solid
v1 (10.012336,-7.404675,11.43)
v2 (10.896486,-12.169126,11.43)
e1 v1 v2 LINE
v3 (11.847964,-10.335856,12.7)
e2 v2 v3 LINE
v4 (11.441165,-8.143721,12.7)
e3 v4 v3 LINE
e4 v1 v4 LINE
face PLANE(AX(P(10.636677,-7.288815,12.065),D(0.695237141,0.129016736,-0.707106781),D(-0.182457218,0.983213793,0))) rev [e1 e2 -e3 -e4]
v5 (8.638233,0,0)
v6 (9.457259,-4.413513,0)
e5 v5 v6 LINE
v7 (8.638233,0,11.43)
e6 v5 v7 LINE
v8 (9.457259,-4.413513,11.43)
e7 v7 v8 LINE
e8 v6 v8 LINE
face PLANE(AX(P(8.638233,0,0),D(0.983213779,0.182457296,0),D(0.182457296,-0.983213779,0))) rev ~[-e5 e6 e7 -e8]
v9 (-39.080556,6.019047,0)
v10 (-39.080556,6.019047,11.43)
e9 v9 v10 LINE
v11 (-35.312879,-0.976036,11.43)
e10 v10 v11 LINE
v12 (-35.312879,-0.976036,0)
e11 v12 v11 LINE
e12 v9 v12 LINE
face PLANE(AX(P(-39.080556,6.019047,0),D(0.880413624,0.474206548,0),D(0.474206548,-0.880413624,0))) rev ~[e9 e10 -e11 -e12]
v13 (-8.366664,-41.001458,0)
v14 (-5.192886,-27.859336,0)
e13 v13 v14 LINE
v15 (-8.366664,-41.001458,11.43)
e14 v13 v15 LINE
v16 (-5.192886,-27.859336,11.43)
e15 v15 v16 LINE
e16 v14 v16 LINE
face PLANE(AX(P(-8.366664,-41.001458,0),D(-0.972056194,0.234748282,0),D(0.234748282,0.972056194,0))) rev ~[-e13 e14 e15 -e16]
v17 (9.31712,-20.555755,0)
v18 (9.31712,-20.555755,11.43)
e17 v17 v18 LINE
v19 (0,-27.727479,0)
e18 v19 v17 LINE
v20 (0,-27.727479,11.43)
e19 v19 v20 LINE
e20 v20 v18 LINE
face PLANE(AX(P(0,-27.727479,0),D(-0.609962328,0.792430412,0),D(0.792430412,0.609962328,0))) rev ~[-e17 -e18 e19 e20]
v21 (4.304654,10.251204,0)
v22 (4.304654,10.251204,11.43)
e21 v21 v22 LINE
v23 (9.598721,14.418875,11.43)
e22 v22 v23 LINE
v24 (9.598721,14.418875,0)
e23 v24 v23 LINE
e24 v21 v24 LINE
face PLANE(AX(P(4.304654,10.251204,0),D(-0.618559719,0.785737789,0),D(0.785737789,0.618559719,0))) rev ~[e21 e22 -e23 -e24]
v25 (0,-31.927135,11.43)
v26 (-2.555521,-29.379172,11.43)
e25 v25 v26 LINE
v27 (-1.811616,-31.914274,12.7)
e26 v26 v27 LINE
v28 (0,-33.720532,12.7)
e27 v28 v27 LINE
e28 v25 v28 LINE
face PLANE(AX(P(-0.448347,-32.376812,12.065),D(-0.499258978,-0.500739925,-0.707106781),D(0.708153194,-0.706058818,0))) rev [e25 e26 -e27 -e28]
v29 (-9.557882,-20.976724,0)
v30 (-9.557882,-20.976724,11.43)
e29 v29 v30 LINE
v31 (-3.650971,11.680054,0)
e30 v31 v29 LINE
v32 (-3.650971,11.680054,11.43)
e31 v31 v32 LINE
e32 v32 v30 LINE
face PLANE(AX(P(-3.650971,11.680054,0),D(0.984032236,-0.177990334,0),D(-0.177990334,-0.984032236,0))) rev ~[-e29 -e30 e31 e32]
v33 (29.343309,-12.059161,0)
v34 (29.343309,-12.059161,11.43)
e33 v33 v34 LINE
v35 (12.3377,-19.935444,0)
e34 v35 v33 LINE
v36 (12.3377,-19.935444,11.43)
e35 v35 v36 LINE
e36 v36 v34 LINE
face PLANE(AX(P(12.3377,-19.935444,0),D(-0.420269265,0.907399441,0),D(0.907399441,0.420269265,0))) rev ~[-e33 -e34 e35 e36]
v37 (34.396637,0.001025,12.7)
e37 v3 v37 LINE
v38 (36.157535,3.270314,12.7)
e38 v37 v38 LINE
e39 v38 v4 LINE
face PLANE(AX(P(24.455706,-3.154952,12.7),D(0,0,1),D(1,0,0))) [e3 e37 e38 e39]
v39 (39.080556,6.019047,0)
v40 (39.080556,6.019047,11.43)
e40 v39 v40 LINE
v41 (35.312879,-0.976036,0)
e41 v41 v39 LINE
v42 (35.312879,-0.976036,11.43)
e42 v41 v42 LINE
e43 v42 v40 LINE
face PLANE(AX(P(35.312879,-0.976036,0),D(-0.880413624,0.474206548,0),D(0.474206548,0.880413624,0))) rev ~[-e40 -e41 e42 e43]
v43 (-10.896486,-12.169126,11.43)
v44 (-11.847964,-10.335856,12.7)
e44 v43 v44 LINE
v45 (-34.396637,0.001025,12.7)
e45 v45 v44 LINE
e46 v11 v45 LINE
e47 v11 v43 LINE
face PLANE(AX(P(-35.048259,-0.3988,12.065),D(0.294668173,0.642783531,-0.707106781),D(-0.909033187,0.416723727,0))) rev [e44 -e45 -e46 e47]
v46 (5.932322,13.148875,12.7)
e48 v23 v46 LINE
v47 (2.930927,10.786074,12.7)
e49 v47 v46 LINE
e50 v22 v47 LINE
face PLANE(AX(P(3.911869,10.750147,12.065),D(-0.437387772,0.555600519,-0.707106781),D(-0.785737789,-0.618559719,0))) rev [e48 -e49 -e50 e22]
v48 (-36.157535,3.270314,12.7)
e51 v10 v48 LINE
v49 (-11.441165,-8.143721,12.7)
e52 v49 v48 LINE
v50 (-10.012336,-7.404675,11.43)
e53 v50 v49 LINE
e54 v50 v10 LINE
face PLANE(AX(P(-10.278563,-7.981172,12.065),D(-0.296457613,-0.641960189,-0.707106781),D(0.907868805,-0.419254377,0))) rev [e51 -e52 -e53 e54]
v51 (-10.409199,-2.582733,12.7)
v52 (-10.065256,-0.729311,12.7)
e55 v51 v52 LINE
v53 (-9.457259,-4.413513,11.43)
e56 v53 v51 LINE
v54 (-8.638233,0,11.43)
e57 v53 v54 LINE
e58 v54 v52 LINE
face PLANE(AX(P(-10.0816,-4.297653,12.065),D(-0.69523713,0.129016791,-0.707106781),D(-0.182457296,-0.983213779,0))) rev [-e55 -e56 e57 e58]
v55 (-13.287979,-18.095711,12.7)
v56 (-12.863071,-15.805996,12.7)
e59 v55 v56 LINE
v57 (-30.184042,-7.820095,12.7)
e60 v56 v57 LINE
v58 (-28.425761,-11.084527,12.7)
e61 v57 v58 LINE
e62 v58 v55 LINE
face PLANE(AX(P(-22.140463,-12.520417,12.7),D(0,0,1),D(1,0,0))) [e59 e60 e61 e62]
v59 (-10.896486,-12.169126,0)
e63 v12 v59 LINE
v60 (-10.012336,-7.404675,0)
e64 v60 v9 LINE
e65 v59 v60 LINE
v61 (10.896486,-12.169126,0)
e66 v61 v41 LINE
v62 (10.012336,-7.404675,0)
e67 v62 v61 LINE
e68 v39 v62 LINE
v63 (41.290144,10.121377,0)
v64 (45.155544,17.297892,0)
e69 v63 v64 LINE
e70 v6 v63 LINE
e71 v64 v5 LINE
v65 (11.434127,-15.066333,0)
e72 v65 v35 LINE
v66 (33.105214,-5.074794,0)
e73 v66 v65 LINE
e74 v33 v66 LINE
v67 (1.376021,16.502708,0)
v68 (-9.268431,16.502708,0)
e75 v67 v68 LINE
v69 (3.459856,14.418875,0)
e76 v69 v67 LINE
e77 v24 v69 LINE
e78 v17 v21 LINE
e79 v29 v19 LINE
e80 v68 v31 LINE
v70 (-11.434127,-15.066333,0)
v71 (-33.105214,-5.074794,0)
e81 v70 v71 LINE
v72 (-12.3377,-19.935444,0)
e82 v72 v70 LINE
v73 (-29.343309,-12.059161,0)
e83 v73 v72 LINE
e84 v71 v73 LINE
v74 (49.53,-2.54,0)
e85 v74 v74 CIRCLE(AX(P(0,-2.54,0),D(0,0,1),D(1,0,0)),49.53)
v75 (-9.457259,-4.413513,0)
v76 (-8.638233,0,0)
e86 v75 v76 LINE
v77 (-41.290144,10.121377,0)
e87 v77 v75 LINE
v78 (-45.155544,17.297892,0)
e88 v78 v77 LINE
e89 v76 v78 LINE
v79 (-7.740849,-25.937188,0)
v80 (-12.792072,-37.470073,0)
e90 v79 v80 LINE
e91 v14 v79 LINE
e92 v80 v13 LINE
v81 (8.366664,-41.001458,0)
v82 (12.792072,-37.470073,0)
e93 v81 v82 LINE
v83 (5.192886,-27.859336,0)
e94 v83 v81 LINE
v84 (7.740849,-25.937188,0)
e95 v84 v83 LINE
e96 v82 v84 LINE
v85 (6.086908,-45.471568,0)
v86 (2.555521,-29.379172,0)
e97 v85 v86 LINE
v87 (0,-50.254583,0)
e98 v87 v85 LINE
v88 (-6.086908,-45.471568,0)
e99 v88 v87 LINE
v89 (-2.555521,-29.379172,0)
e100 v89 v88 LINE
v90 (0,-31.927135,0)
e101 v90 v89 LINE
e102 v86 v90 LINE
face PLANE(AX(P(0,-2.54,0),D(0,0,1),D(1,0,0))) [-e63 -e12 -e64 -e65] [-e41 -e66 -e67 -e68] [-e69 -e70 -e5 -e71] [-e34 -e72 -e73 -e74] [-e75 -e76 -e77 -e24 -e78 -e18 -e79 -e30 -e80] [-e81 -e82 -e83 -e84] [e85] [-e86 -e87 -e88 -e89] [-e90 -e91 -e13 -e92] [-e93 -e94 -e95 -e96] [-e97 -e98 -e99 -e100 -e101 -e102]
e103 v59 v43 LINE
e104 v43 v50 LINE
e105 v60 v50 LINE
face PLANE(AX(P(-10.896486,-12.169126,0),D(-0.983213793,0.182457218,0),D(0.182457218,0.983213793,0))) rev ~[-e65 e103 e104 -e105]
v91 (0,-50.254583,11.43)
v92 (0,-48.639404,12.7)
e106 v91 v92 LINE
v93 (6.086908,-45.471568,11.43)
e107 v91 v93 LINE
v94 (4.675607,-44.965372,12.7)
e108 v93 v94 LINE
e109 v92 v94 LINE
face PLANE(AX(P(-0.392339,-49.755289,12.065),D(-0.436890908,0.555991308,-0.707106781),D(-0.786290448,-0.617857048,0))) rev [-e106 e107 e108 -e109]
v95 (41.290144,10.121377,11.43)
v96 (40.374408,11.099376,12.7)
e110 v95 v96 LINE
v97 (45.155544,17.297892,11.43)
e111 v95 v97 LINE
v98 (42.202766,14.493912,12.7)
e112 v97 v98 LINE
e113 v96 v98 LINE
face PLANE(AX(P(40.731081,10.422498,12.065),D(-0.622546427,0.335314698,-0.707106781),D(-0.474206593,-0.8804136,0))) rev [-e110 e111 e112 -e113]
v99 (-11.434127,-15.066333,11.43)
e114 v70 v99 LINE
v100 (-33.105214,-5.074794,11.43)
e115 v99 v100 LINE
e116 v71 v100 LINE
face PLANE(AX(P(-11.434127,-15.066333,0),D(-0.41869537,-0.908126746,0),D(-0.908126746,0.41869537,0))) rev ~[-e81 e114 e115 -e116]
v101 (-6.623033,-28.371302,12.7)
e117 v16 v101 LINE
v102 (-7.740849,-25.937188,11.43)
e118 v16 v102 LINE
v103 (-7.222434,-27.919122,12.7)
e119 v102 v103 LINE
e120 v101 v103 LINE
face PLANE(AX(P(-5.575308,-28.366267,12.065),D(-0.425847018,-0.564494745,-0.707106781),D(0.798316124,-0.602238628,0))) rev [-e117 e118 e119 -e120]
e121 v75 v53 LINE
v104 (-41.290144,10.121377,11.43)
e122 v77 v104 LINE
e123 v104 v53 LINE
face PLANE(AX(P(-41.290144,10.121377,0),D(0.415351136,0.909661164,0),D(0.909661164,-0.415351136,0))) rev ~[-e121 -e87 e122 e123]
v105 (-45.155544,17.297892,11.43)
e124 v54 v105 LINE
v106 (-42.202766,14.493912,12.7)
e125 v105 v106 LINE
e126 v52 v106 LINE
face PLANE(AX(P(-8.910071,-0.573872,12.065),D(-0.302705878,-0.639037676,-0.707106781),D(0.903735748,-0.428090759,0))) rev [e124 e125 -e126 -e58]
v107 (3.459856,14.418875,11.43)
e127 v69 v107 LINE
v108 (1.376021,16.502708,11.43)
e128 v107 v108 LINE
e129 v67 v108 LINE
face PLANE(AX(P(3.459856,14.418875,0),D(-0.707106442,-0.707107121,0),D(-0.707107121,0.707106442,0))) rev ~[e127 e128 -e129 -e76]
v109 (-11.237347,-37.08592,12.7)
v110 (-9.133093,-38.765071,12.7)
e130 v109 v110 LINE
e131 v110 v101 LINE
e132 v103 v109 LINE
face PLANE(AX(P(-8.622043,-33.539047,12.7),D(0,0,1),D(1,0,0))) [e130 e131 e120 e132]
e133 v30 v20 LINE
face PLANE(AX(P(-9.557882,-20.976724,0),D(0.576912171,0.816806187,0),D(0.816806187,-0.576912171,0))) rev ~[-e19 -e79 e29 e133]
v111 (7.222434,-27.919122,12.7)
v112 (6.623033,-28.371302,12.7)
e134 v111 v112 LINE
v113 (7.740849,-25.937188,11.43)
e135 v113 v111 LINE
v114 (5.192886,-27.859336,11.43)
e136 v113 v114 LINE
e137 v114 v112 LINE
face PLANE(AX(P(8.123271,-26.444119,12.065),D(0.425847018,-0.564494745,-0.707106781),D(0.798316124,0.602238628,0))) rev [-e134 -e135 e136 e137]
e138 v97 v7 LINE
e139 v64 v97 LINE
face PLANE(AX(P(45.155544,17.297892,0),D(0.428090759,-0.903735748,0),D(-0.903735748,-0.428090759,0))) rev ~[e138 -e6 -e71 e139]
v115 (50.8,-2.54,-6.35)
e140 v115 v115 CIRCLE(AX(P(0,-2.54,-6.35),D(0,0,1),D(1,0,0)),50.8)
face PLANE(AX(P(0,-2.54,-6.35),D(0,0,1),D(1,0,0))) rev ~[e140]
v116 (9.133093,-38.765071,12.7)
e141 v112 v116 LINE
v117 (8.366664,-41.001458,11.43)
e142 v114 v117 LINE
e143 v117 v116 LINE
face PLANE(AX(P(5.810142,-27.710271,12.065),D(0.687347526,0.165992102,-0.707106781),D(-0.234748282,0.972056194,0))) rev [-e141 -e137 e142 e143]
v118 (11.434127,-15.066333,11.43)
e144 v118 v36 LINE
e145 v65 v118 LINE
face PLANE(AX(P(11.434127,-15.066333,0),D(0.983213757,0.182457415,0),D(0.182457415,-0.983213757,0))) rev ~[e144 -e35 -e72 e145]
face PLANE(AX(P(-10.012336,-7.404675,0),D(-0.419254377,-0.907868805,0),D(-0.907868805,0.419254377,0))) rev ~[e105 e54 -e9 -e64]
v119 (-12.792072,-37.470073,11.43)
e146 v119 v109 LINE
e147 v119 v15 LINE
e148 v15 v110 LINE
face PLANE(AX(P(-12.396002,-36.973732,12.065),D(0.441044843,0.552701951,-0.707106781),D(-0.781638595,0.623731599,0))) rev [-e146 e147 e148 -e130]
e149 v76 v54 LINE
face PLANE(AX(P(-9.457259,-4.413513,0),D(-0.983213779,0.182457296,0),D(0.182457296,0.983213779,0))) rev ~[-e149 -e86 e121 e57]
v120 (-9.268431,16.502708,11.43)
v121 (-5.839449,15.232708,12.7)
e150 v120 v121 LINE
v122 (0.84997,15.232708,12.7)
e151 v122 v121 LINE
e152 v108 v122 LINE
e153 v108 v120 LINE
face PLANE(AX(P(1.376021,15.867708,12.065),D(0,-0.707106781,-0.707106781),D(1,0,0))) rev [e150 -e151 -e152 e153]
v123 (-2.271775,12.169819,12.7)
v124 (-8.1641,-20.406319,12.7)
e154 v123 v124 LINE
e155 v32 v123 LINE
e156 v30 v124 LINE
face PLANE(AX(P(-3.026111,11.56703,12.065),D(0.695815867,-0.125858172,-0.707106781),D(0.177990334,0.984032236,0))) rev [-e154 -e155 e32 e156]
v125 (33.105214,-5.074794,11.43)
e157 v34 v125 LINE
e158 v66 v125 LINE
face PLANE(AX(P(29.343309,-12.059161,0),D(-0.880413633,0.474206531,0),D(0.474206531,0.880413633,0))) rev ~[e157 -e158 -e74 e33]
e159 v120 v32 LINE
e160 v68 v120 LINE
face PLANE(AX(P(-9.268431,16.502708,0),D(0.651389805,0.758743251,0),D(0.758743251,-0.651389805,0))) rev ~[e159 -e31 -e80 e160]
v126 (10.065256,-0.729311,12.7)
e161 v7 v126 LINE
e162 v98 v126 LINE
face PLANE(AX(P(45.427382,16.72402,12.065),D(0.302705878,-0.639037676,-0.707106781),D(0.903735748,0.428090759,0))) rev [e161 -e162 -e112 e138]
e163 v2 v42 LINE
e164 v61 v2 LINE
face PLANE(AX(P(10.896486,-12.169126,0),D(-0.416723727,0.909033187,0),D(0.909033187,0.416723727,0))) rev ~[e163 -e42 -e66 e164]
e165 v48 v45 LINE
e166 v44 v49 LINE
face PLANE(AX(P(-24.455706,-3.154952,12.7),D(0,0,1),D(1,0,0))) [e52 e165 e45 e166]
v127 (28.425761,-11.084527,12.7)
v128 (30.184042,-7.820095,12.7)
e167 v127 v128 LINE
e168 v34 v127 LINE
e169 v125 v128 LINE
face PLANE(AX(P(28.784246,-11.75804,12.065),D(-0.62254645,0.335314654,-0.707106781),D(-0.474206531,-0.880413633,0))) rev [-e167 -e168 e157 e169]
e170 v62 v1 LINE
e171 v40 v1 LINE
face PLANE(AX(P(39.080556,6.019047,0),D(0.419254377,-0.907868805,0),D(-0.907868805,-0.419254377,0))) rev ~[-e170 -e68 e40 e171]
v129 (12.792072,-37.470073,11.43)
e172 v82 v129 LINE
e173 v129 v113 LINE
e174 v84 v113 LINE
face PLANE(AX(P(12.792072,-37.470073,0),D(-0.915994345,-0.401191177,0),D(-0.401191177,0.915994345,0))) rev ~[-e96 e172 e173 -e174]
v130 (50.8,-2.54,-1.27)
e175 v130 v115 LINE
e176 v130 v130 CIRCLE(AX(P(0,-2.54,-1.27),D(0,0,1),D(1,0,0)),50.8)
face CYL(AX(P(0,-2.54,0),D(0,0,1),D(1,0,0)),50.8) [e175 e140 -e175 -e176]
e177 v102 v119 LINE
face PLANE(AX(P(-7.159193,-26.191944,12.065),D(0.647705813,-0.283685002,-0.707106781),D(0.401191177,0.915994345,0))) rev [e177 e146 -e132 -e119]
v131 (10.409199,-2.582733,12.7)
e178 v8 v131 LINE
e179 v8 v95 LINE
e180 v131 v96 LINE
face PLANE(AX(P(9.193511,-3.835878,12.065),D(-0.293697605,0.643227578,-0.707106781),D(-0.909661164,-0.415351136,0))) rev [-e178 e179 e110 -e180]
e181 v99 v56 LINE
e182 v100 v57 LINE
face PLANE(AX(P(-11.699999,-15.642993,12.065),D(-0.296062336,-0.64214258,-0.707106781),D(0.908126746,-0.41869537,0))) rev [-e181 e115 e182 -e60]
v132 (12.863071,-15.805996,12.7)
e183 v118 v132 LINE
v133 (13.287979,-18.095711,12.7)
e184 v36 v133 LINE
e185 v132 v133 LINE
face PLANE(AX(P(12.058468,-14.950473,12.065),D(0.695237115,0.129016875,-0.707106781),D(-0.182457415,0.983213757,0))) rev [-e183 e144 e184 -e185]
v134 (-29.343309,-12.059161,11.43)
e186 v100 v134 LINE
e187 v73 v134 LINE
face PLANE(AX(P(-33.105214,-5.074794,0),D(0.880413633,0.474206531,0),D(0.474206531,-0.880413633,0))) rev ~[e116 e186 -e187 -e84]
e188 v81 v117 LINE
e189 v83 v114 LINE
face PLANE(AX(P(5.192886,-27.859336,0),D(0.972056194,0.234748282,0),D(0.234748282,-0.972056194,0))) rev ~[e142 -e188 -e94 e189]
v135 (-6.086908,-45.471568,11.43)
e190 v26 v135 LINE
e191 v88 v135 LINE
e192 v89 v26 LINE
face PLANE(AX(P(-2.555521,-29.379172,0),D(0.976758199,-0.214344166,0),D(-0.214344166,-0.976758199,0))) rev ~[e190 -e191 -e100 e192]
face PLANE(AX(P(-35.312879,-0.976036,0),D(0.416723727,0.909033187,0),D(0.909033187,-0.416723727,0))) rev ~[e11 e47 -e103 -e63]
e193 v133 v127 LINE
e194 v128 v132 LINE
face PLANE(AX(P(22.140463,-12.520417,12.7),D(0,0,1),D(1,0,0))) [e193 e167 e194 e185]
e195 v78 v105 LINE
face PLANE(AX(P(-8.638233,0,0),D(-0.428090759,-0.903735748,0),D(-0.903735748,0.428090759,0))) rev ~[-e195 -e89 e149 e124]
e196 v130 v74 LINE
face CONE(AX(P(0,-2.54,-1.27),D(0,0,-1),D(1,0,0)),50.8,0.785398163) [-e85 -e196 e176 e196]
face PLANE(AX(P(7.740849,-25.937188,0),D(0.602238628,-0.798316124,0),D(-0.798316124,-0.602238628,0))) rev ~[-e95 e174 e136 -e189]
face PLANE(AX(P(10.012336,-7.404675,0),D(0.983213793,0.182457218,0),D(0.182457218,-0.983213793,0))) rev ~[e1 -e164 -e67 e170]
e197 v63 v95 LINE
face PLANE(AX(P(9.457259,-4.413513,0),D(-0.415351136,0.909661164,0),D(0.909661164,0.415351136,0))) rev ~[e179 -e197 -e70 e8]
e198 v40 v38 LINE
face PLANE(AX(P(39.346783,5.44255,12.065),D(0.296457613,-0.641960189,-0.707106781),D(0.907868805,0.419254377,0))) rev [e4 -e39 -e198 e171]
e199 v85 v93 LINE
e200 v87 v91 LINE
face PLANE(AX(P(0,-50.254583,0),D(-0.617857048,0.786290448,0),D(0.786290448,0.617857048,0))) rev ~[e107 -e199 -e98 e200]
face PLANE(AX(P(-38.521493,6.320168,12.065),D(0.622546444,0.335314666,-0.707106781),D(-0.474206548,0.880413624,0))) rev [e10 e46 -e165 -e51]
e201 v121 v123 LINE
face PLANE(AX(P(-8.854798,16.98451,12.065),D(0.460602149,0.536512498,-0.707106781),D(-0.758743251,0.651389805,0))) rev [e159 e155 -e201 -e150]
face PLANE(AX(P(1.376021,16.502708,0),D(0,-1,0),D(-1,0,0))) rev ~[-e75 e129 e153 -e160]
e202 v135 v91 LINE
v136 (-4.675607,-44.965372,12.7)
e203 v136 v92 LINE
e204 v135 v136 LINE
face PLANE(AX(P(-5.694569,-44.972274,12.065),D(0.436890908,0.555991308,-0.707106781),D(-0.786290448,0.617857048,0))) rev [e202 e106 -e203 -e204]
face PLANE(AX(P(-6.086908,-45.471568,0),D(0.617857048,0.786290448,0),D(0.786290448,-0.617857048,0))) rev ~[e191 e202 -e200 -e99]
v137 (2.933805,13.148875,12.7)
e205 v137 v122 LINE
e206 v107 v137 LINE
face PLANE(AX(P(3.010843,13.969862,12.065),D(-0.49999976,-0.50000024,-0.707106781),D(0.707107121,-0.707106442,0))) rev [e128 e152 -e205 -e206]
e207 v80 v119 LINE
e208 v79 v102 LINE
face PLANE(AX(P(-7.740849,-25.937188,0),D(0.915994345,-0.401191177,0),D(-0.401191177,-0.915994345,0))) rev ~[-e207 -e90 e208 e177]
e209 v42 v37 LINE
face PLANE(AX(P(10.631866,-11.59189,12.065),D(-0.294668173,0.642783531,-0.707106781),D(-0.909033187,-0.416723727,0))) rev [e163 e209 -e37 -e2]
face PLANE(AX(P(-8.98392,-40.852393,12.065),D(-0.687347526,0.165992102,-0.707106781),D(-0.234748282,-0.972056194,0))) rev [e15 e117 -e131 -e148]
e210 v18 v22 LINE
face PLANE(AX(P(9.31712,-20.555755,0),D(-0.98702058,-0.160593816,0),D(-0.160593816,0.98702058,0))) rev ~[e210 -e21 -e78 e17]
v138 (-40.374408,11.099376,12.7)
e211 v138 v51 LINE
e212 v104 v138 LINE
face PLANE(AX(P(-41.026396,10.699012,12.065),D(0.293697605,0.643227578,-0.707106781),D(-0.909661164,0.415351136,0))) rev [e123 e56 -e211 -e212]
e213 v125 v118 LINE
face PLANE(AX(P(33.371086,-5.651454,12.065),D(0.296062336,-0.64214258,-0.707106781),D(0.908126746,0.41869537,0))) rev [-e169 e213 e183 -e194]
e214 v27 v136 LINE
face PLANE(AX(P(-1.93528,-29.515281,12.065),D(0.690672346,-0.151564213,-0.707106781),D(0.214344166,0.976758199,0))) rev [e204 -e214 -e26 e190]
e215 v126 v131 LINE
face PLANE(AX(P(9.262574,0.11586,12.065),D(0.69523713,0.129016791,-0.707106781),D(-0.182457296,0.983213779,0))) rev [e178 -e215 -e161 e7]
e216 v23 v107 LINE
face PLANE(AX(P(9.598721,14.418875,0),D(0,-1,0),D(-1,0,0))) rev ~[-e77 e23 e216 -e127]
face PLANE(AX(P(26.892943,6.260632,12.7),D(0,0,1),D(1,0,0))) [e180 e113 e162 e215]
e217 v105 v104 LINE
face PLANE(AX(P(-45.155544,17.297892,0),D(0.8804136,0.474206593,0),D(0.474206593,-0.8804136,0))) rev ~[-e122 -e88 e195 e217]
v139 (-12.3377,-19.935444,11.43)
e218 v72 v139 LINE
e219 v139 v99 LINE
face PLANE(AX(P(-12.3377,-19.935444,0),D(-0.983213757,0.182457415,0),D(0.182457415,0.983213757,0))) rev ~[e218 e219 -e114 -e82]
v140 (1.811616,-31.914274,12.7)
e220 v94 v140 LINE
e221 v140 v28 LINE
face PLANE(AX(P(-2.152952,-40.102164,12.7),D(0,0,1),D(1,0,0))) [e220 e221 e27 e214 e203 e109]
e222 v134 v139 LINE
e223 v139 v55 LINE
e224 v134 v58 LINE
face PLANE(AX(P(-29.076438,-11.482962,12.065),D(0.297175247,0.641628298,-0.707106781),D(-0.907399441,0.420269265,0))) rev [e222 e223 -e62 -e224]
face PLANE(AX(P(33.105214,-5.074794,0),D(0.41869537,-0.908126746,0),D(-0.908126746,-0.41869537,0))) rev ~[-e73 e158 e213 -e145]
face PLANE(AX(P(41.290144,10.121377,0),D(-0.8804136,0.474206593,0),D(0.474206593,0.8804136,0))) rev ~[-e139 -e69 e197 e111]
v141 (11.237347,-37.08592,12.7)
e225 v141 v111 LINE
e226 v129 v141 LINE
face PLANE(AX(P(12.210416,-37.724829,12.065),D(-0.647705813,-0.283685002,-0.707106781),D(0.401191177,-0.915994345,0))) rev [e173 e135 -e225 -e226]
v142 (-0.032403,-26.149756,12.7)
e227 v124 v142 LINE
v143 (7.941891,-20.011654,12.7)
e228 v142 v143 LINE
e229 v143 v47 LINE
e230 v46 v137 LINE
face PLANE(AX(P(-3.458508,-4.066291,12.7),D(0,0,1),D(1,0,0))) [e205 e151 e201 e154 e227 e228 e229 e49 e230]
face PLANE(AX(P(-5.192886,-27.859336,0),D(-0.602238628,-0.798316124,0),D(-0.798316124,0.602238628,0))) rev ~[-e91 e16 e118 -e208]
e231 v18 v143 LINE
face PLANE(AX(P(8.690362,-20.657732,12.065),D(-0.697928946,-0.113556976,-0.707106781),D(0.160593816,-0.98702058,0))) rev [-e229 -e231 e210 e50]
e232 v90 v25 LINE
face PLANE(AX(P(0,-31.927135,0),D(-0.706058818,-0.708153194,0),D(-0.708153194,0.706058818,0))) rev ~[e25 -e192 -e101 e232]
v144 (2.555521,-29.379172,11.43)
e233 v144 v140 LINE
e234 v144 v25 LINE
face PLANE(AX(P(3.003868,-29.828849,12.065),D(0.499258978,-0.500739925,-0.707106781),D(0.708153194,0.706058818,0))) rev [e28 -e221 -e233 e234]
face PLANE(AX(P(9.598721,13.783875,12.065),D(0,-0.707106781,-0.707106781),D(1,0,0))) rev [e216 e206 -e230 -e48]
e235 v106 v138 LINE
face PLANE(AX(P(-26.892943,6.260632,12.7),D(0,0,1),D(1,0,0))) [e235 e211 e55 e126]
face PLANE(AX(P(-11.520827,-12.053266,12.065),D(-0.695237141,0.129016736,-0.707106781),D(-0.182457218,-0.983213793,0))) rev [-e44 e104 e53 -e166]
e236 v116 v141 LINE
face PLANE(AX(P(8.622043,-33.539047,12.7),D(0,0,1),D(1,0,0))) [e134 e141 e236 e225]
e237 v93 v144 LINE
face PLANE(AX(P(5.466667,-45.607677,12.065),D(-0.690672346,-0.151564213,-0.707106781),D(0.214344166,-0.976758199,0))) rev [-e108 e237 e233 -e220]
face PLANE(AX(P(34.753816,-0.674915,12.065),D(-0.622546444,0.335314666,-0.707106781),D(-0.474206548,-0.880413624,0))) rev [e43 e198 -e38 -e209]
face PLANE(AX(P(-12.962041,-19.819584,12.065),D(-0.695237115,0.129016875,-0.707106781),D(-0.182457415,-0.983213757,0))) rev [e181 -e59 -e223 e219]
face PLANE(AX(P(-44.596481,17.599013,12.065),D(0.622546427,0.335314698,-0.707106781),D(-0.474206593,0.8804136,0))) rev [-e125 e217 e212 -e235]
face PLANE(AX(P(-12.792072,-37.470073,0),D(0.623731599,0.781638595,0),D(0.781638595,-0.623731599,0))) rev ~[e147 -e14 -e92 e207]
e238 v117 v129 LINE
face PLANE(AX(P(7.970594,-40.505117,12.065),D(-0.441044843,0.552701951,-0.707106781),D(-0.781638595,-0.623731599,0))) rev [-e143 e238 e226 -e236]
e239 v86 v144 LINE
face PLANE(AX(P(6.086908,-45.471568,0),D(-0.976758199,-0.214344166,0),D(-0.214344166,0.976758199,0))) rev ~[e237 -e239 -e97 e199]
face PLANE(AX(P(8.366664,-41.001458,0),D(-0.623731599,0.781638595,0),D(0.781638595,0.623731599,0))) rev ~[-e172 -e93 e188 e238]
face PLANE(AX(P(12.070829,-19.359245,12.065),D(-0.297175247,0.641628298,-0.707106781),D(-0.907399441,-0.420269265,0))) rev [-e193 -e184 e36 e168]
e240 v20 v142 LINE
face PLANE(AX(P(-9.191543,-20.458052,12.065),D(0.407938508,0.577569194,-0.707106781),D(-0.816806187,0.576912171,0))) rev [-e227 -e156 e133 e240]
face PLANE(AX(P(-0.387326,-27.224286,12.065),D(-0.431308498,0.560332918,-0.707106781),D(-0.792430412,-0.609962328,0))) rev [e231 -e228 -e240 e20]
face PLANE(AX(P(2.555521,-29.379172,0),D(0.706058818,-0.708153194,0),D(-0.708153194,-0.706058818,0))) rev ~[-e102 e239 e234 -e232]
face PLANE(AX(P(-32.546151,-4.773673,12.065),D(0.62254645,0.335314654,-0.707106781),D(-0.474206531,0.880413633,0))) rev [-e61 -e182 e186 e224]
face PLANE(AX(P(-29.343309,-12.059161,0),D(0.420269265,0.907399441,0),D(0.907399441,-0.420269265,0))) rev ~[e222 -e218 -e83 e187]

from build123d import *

# Parameters (mm, degrees)
F1_R     = 50.8
F2_DEPTH = 6.35
F3_DEPTH = 12.7
F4_SIZE  = 1.27


with BuildPart() as f2:
    # F1 (on Top) → F2 (new body)
    with BuildSketch(Plane.XY):
        with Locations((0, -2.54)):
            Circle(F1_R)
    extrude(amount=-F2_DEPTH)

    # F0 (on Top) → F3 (join)
    with BuildSketch(Plane.XY):
        Polygon((-6.086908, -45.471568), (0, -50.254583), (0, -31.927135), (-2.555521, -29.379172), align=None)
        Polygon((-9.557882, -20.976724), (0, -27.727479), (0, 16.502708), (-9.268431, 16.502708), (-3.650971, 11.680054), align=None)
        Polygon((0, 16.502708), (0, -27.727479), (9.31712, -20.555755), (4.304654, 10.251204), (9.598721, 14.418875), (3.459856, 14.418875), (1.376021, 16.502708), align=None)
        Polygon((0, -31.927135), (0, -50.254583), (6.086908, -45.471568), (2.555521, -29.379172), align=None)
        Polygon((-9.457259, -4.413513), (-8.638233, 0), (-45.155544, 17.297892), (-41.290144, 10.121377), align=None)
        Polygon((-33.105214, -5.074794), (-29.343309, -12.059161), (-12.3377, -19.935444), (-11.434127, -15.066333), align=None)
        Polygon((-10.896486, -12.169126), (-10.012336, -7.404675), (-39.080556, 6.019047), (-35.312879, -0.976036), align=None)
        Polygon((-5.192886, -27.859336), (-7.740849, -25.937188), (-12.792072, -37.470073), (-8.366664, -41.001458), align=None)
        Polygon((8.638233, 0), (9.457259, -4.413513), (41.290144, 10.121377), (45.155544, 17.297892), align=None)
        Polygon((10.012336, -7.404675), (10.896486, -12.169126), (35.312879, -0.976036), (39.080556, 6.019047), align=None)
        Polygon((8.366664, -41.001458), (12.792072, -37.470073), (7.740849, -25.937188), (5.192886, -27.859336), align=None)
        Polygon((29.343309, -12.059161), (33.105214, -5.074794), (11.434127, -15.066333), (12.3377, -19.935444), align=None)
    extrude(amount=F3_DEPTH)

    # F4
    f4_edges = [f2.edges().sort_by_distance(p)[0] for p in [
        (-26.896888, 8.648946, 12.7),
        (-43.222844, 13.709634, 12.7),
        (-9.047746, -2.206757, 12.7),
        (-25.373702, 2.853932, 12.7),
        (-24.546446, -0.692814, 12.7),
        (-10.454411, -9.7869, 12.7),
        (-23.104682, -6.572581, 12.7),
        (-37.196717, 2.521506, 12.7),
        (-31.224262, -8.566978, 12.7),
        (-22.269671, -10.070563, 12.7),
        (-20.840504, -15.997303, 12.7),
        (-11.885913, -17.500888, 12.7),
        (9.047746, -2.206757, 12.7),
        (26.896888, 8.648946, 12.7),
        (25.373702, 2.853932, 12.7),
        (43.222844, 13.709634, 12.7),
        (10.454411, -9.7869, 12.7),
        (24.546446, -0.692814, 12.7),
        (23.104682, -6.572581, 12.7),
        (37.196717, 2.521506, 12.7),
        (11.885913, -17.500888, 12.7),
        (22.269671, -10.070563, 12.7),
        (31.224262, -8.566978, 12.7),
        (20.840504, -15.997303, 12.7),
        (-10.26646, -31.70363, 12.7),
        (-6.466867, -26.898262, 12.7),
        (-6.779775, -34.430397, 12.7),
        (-10.579368, -39.235765, 12.7),
        (-3.043454, -47.863076, 12.7),
        (3.043454, -47.863076, 12.7),
        (4.321215, -37.42537, 12.7),
        (-4.321215, -37.42537, 12.7),
        (-1.277761, -30.653154, 12.7),
        (1.277761, -30.653154, 12.7),
        (6.779775, -34.430397, 12.7),
        (6.466867, -26.898262, 12.7),
        (10.26646, -31.70363, 12.7),
        (10.579368, -39.235765, 12.7),
        (-4.778941, -24.352102, 12.7),
        (4.65856, -24.141617, 12.7),
        (-6.604427, -4.648335, 12.7),
        (6.810887, -5.152275, 12.7),
        (-6.459701, 14.091381, 12.7),
        (-3.946205, 16.502708, 12.7),
        (2.417938, 15.460792, 12.7),
        (6.529288, 14.418875, 12.7),
        (6.951687, 12.33504, 12.7),
        (-50.8, -2.54, 0),
    ]]
    chamfer(f4_edges, length=F4_SIZE)


solid = f2.part
